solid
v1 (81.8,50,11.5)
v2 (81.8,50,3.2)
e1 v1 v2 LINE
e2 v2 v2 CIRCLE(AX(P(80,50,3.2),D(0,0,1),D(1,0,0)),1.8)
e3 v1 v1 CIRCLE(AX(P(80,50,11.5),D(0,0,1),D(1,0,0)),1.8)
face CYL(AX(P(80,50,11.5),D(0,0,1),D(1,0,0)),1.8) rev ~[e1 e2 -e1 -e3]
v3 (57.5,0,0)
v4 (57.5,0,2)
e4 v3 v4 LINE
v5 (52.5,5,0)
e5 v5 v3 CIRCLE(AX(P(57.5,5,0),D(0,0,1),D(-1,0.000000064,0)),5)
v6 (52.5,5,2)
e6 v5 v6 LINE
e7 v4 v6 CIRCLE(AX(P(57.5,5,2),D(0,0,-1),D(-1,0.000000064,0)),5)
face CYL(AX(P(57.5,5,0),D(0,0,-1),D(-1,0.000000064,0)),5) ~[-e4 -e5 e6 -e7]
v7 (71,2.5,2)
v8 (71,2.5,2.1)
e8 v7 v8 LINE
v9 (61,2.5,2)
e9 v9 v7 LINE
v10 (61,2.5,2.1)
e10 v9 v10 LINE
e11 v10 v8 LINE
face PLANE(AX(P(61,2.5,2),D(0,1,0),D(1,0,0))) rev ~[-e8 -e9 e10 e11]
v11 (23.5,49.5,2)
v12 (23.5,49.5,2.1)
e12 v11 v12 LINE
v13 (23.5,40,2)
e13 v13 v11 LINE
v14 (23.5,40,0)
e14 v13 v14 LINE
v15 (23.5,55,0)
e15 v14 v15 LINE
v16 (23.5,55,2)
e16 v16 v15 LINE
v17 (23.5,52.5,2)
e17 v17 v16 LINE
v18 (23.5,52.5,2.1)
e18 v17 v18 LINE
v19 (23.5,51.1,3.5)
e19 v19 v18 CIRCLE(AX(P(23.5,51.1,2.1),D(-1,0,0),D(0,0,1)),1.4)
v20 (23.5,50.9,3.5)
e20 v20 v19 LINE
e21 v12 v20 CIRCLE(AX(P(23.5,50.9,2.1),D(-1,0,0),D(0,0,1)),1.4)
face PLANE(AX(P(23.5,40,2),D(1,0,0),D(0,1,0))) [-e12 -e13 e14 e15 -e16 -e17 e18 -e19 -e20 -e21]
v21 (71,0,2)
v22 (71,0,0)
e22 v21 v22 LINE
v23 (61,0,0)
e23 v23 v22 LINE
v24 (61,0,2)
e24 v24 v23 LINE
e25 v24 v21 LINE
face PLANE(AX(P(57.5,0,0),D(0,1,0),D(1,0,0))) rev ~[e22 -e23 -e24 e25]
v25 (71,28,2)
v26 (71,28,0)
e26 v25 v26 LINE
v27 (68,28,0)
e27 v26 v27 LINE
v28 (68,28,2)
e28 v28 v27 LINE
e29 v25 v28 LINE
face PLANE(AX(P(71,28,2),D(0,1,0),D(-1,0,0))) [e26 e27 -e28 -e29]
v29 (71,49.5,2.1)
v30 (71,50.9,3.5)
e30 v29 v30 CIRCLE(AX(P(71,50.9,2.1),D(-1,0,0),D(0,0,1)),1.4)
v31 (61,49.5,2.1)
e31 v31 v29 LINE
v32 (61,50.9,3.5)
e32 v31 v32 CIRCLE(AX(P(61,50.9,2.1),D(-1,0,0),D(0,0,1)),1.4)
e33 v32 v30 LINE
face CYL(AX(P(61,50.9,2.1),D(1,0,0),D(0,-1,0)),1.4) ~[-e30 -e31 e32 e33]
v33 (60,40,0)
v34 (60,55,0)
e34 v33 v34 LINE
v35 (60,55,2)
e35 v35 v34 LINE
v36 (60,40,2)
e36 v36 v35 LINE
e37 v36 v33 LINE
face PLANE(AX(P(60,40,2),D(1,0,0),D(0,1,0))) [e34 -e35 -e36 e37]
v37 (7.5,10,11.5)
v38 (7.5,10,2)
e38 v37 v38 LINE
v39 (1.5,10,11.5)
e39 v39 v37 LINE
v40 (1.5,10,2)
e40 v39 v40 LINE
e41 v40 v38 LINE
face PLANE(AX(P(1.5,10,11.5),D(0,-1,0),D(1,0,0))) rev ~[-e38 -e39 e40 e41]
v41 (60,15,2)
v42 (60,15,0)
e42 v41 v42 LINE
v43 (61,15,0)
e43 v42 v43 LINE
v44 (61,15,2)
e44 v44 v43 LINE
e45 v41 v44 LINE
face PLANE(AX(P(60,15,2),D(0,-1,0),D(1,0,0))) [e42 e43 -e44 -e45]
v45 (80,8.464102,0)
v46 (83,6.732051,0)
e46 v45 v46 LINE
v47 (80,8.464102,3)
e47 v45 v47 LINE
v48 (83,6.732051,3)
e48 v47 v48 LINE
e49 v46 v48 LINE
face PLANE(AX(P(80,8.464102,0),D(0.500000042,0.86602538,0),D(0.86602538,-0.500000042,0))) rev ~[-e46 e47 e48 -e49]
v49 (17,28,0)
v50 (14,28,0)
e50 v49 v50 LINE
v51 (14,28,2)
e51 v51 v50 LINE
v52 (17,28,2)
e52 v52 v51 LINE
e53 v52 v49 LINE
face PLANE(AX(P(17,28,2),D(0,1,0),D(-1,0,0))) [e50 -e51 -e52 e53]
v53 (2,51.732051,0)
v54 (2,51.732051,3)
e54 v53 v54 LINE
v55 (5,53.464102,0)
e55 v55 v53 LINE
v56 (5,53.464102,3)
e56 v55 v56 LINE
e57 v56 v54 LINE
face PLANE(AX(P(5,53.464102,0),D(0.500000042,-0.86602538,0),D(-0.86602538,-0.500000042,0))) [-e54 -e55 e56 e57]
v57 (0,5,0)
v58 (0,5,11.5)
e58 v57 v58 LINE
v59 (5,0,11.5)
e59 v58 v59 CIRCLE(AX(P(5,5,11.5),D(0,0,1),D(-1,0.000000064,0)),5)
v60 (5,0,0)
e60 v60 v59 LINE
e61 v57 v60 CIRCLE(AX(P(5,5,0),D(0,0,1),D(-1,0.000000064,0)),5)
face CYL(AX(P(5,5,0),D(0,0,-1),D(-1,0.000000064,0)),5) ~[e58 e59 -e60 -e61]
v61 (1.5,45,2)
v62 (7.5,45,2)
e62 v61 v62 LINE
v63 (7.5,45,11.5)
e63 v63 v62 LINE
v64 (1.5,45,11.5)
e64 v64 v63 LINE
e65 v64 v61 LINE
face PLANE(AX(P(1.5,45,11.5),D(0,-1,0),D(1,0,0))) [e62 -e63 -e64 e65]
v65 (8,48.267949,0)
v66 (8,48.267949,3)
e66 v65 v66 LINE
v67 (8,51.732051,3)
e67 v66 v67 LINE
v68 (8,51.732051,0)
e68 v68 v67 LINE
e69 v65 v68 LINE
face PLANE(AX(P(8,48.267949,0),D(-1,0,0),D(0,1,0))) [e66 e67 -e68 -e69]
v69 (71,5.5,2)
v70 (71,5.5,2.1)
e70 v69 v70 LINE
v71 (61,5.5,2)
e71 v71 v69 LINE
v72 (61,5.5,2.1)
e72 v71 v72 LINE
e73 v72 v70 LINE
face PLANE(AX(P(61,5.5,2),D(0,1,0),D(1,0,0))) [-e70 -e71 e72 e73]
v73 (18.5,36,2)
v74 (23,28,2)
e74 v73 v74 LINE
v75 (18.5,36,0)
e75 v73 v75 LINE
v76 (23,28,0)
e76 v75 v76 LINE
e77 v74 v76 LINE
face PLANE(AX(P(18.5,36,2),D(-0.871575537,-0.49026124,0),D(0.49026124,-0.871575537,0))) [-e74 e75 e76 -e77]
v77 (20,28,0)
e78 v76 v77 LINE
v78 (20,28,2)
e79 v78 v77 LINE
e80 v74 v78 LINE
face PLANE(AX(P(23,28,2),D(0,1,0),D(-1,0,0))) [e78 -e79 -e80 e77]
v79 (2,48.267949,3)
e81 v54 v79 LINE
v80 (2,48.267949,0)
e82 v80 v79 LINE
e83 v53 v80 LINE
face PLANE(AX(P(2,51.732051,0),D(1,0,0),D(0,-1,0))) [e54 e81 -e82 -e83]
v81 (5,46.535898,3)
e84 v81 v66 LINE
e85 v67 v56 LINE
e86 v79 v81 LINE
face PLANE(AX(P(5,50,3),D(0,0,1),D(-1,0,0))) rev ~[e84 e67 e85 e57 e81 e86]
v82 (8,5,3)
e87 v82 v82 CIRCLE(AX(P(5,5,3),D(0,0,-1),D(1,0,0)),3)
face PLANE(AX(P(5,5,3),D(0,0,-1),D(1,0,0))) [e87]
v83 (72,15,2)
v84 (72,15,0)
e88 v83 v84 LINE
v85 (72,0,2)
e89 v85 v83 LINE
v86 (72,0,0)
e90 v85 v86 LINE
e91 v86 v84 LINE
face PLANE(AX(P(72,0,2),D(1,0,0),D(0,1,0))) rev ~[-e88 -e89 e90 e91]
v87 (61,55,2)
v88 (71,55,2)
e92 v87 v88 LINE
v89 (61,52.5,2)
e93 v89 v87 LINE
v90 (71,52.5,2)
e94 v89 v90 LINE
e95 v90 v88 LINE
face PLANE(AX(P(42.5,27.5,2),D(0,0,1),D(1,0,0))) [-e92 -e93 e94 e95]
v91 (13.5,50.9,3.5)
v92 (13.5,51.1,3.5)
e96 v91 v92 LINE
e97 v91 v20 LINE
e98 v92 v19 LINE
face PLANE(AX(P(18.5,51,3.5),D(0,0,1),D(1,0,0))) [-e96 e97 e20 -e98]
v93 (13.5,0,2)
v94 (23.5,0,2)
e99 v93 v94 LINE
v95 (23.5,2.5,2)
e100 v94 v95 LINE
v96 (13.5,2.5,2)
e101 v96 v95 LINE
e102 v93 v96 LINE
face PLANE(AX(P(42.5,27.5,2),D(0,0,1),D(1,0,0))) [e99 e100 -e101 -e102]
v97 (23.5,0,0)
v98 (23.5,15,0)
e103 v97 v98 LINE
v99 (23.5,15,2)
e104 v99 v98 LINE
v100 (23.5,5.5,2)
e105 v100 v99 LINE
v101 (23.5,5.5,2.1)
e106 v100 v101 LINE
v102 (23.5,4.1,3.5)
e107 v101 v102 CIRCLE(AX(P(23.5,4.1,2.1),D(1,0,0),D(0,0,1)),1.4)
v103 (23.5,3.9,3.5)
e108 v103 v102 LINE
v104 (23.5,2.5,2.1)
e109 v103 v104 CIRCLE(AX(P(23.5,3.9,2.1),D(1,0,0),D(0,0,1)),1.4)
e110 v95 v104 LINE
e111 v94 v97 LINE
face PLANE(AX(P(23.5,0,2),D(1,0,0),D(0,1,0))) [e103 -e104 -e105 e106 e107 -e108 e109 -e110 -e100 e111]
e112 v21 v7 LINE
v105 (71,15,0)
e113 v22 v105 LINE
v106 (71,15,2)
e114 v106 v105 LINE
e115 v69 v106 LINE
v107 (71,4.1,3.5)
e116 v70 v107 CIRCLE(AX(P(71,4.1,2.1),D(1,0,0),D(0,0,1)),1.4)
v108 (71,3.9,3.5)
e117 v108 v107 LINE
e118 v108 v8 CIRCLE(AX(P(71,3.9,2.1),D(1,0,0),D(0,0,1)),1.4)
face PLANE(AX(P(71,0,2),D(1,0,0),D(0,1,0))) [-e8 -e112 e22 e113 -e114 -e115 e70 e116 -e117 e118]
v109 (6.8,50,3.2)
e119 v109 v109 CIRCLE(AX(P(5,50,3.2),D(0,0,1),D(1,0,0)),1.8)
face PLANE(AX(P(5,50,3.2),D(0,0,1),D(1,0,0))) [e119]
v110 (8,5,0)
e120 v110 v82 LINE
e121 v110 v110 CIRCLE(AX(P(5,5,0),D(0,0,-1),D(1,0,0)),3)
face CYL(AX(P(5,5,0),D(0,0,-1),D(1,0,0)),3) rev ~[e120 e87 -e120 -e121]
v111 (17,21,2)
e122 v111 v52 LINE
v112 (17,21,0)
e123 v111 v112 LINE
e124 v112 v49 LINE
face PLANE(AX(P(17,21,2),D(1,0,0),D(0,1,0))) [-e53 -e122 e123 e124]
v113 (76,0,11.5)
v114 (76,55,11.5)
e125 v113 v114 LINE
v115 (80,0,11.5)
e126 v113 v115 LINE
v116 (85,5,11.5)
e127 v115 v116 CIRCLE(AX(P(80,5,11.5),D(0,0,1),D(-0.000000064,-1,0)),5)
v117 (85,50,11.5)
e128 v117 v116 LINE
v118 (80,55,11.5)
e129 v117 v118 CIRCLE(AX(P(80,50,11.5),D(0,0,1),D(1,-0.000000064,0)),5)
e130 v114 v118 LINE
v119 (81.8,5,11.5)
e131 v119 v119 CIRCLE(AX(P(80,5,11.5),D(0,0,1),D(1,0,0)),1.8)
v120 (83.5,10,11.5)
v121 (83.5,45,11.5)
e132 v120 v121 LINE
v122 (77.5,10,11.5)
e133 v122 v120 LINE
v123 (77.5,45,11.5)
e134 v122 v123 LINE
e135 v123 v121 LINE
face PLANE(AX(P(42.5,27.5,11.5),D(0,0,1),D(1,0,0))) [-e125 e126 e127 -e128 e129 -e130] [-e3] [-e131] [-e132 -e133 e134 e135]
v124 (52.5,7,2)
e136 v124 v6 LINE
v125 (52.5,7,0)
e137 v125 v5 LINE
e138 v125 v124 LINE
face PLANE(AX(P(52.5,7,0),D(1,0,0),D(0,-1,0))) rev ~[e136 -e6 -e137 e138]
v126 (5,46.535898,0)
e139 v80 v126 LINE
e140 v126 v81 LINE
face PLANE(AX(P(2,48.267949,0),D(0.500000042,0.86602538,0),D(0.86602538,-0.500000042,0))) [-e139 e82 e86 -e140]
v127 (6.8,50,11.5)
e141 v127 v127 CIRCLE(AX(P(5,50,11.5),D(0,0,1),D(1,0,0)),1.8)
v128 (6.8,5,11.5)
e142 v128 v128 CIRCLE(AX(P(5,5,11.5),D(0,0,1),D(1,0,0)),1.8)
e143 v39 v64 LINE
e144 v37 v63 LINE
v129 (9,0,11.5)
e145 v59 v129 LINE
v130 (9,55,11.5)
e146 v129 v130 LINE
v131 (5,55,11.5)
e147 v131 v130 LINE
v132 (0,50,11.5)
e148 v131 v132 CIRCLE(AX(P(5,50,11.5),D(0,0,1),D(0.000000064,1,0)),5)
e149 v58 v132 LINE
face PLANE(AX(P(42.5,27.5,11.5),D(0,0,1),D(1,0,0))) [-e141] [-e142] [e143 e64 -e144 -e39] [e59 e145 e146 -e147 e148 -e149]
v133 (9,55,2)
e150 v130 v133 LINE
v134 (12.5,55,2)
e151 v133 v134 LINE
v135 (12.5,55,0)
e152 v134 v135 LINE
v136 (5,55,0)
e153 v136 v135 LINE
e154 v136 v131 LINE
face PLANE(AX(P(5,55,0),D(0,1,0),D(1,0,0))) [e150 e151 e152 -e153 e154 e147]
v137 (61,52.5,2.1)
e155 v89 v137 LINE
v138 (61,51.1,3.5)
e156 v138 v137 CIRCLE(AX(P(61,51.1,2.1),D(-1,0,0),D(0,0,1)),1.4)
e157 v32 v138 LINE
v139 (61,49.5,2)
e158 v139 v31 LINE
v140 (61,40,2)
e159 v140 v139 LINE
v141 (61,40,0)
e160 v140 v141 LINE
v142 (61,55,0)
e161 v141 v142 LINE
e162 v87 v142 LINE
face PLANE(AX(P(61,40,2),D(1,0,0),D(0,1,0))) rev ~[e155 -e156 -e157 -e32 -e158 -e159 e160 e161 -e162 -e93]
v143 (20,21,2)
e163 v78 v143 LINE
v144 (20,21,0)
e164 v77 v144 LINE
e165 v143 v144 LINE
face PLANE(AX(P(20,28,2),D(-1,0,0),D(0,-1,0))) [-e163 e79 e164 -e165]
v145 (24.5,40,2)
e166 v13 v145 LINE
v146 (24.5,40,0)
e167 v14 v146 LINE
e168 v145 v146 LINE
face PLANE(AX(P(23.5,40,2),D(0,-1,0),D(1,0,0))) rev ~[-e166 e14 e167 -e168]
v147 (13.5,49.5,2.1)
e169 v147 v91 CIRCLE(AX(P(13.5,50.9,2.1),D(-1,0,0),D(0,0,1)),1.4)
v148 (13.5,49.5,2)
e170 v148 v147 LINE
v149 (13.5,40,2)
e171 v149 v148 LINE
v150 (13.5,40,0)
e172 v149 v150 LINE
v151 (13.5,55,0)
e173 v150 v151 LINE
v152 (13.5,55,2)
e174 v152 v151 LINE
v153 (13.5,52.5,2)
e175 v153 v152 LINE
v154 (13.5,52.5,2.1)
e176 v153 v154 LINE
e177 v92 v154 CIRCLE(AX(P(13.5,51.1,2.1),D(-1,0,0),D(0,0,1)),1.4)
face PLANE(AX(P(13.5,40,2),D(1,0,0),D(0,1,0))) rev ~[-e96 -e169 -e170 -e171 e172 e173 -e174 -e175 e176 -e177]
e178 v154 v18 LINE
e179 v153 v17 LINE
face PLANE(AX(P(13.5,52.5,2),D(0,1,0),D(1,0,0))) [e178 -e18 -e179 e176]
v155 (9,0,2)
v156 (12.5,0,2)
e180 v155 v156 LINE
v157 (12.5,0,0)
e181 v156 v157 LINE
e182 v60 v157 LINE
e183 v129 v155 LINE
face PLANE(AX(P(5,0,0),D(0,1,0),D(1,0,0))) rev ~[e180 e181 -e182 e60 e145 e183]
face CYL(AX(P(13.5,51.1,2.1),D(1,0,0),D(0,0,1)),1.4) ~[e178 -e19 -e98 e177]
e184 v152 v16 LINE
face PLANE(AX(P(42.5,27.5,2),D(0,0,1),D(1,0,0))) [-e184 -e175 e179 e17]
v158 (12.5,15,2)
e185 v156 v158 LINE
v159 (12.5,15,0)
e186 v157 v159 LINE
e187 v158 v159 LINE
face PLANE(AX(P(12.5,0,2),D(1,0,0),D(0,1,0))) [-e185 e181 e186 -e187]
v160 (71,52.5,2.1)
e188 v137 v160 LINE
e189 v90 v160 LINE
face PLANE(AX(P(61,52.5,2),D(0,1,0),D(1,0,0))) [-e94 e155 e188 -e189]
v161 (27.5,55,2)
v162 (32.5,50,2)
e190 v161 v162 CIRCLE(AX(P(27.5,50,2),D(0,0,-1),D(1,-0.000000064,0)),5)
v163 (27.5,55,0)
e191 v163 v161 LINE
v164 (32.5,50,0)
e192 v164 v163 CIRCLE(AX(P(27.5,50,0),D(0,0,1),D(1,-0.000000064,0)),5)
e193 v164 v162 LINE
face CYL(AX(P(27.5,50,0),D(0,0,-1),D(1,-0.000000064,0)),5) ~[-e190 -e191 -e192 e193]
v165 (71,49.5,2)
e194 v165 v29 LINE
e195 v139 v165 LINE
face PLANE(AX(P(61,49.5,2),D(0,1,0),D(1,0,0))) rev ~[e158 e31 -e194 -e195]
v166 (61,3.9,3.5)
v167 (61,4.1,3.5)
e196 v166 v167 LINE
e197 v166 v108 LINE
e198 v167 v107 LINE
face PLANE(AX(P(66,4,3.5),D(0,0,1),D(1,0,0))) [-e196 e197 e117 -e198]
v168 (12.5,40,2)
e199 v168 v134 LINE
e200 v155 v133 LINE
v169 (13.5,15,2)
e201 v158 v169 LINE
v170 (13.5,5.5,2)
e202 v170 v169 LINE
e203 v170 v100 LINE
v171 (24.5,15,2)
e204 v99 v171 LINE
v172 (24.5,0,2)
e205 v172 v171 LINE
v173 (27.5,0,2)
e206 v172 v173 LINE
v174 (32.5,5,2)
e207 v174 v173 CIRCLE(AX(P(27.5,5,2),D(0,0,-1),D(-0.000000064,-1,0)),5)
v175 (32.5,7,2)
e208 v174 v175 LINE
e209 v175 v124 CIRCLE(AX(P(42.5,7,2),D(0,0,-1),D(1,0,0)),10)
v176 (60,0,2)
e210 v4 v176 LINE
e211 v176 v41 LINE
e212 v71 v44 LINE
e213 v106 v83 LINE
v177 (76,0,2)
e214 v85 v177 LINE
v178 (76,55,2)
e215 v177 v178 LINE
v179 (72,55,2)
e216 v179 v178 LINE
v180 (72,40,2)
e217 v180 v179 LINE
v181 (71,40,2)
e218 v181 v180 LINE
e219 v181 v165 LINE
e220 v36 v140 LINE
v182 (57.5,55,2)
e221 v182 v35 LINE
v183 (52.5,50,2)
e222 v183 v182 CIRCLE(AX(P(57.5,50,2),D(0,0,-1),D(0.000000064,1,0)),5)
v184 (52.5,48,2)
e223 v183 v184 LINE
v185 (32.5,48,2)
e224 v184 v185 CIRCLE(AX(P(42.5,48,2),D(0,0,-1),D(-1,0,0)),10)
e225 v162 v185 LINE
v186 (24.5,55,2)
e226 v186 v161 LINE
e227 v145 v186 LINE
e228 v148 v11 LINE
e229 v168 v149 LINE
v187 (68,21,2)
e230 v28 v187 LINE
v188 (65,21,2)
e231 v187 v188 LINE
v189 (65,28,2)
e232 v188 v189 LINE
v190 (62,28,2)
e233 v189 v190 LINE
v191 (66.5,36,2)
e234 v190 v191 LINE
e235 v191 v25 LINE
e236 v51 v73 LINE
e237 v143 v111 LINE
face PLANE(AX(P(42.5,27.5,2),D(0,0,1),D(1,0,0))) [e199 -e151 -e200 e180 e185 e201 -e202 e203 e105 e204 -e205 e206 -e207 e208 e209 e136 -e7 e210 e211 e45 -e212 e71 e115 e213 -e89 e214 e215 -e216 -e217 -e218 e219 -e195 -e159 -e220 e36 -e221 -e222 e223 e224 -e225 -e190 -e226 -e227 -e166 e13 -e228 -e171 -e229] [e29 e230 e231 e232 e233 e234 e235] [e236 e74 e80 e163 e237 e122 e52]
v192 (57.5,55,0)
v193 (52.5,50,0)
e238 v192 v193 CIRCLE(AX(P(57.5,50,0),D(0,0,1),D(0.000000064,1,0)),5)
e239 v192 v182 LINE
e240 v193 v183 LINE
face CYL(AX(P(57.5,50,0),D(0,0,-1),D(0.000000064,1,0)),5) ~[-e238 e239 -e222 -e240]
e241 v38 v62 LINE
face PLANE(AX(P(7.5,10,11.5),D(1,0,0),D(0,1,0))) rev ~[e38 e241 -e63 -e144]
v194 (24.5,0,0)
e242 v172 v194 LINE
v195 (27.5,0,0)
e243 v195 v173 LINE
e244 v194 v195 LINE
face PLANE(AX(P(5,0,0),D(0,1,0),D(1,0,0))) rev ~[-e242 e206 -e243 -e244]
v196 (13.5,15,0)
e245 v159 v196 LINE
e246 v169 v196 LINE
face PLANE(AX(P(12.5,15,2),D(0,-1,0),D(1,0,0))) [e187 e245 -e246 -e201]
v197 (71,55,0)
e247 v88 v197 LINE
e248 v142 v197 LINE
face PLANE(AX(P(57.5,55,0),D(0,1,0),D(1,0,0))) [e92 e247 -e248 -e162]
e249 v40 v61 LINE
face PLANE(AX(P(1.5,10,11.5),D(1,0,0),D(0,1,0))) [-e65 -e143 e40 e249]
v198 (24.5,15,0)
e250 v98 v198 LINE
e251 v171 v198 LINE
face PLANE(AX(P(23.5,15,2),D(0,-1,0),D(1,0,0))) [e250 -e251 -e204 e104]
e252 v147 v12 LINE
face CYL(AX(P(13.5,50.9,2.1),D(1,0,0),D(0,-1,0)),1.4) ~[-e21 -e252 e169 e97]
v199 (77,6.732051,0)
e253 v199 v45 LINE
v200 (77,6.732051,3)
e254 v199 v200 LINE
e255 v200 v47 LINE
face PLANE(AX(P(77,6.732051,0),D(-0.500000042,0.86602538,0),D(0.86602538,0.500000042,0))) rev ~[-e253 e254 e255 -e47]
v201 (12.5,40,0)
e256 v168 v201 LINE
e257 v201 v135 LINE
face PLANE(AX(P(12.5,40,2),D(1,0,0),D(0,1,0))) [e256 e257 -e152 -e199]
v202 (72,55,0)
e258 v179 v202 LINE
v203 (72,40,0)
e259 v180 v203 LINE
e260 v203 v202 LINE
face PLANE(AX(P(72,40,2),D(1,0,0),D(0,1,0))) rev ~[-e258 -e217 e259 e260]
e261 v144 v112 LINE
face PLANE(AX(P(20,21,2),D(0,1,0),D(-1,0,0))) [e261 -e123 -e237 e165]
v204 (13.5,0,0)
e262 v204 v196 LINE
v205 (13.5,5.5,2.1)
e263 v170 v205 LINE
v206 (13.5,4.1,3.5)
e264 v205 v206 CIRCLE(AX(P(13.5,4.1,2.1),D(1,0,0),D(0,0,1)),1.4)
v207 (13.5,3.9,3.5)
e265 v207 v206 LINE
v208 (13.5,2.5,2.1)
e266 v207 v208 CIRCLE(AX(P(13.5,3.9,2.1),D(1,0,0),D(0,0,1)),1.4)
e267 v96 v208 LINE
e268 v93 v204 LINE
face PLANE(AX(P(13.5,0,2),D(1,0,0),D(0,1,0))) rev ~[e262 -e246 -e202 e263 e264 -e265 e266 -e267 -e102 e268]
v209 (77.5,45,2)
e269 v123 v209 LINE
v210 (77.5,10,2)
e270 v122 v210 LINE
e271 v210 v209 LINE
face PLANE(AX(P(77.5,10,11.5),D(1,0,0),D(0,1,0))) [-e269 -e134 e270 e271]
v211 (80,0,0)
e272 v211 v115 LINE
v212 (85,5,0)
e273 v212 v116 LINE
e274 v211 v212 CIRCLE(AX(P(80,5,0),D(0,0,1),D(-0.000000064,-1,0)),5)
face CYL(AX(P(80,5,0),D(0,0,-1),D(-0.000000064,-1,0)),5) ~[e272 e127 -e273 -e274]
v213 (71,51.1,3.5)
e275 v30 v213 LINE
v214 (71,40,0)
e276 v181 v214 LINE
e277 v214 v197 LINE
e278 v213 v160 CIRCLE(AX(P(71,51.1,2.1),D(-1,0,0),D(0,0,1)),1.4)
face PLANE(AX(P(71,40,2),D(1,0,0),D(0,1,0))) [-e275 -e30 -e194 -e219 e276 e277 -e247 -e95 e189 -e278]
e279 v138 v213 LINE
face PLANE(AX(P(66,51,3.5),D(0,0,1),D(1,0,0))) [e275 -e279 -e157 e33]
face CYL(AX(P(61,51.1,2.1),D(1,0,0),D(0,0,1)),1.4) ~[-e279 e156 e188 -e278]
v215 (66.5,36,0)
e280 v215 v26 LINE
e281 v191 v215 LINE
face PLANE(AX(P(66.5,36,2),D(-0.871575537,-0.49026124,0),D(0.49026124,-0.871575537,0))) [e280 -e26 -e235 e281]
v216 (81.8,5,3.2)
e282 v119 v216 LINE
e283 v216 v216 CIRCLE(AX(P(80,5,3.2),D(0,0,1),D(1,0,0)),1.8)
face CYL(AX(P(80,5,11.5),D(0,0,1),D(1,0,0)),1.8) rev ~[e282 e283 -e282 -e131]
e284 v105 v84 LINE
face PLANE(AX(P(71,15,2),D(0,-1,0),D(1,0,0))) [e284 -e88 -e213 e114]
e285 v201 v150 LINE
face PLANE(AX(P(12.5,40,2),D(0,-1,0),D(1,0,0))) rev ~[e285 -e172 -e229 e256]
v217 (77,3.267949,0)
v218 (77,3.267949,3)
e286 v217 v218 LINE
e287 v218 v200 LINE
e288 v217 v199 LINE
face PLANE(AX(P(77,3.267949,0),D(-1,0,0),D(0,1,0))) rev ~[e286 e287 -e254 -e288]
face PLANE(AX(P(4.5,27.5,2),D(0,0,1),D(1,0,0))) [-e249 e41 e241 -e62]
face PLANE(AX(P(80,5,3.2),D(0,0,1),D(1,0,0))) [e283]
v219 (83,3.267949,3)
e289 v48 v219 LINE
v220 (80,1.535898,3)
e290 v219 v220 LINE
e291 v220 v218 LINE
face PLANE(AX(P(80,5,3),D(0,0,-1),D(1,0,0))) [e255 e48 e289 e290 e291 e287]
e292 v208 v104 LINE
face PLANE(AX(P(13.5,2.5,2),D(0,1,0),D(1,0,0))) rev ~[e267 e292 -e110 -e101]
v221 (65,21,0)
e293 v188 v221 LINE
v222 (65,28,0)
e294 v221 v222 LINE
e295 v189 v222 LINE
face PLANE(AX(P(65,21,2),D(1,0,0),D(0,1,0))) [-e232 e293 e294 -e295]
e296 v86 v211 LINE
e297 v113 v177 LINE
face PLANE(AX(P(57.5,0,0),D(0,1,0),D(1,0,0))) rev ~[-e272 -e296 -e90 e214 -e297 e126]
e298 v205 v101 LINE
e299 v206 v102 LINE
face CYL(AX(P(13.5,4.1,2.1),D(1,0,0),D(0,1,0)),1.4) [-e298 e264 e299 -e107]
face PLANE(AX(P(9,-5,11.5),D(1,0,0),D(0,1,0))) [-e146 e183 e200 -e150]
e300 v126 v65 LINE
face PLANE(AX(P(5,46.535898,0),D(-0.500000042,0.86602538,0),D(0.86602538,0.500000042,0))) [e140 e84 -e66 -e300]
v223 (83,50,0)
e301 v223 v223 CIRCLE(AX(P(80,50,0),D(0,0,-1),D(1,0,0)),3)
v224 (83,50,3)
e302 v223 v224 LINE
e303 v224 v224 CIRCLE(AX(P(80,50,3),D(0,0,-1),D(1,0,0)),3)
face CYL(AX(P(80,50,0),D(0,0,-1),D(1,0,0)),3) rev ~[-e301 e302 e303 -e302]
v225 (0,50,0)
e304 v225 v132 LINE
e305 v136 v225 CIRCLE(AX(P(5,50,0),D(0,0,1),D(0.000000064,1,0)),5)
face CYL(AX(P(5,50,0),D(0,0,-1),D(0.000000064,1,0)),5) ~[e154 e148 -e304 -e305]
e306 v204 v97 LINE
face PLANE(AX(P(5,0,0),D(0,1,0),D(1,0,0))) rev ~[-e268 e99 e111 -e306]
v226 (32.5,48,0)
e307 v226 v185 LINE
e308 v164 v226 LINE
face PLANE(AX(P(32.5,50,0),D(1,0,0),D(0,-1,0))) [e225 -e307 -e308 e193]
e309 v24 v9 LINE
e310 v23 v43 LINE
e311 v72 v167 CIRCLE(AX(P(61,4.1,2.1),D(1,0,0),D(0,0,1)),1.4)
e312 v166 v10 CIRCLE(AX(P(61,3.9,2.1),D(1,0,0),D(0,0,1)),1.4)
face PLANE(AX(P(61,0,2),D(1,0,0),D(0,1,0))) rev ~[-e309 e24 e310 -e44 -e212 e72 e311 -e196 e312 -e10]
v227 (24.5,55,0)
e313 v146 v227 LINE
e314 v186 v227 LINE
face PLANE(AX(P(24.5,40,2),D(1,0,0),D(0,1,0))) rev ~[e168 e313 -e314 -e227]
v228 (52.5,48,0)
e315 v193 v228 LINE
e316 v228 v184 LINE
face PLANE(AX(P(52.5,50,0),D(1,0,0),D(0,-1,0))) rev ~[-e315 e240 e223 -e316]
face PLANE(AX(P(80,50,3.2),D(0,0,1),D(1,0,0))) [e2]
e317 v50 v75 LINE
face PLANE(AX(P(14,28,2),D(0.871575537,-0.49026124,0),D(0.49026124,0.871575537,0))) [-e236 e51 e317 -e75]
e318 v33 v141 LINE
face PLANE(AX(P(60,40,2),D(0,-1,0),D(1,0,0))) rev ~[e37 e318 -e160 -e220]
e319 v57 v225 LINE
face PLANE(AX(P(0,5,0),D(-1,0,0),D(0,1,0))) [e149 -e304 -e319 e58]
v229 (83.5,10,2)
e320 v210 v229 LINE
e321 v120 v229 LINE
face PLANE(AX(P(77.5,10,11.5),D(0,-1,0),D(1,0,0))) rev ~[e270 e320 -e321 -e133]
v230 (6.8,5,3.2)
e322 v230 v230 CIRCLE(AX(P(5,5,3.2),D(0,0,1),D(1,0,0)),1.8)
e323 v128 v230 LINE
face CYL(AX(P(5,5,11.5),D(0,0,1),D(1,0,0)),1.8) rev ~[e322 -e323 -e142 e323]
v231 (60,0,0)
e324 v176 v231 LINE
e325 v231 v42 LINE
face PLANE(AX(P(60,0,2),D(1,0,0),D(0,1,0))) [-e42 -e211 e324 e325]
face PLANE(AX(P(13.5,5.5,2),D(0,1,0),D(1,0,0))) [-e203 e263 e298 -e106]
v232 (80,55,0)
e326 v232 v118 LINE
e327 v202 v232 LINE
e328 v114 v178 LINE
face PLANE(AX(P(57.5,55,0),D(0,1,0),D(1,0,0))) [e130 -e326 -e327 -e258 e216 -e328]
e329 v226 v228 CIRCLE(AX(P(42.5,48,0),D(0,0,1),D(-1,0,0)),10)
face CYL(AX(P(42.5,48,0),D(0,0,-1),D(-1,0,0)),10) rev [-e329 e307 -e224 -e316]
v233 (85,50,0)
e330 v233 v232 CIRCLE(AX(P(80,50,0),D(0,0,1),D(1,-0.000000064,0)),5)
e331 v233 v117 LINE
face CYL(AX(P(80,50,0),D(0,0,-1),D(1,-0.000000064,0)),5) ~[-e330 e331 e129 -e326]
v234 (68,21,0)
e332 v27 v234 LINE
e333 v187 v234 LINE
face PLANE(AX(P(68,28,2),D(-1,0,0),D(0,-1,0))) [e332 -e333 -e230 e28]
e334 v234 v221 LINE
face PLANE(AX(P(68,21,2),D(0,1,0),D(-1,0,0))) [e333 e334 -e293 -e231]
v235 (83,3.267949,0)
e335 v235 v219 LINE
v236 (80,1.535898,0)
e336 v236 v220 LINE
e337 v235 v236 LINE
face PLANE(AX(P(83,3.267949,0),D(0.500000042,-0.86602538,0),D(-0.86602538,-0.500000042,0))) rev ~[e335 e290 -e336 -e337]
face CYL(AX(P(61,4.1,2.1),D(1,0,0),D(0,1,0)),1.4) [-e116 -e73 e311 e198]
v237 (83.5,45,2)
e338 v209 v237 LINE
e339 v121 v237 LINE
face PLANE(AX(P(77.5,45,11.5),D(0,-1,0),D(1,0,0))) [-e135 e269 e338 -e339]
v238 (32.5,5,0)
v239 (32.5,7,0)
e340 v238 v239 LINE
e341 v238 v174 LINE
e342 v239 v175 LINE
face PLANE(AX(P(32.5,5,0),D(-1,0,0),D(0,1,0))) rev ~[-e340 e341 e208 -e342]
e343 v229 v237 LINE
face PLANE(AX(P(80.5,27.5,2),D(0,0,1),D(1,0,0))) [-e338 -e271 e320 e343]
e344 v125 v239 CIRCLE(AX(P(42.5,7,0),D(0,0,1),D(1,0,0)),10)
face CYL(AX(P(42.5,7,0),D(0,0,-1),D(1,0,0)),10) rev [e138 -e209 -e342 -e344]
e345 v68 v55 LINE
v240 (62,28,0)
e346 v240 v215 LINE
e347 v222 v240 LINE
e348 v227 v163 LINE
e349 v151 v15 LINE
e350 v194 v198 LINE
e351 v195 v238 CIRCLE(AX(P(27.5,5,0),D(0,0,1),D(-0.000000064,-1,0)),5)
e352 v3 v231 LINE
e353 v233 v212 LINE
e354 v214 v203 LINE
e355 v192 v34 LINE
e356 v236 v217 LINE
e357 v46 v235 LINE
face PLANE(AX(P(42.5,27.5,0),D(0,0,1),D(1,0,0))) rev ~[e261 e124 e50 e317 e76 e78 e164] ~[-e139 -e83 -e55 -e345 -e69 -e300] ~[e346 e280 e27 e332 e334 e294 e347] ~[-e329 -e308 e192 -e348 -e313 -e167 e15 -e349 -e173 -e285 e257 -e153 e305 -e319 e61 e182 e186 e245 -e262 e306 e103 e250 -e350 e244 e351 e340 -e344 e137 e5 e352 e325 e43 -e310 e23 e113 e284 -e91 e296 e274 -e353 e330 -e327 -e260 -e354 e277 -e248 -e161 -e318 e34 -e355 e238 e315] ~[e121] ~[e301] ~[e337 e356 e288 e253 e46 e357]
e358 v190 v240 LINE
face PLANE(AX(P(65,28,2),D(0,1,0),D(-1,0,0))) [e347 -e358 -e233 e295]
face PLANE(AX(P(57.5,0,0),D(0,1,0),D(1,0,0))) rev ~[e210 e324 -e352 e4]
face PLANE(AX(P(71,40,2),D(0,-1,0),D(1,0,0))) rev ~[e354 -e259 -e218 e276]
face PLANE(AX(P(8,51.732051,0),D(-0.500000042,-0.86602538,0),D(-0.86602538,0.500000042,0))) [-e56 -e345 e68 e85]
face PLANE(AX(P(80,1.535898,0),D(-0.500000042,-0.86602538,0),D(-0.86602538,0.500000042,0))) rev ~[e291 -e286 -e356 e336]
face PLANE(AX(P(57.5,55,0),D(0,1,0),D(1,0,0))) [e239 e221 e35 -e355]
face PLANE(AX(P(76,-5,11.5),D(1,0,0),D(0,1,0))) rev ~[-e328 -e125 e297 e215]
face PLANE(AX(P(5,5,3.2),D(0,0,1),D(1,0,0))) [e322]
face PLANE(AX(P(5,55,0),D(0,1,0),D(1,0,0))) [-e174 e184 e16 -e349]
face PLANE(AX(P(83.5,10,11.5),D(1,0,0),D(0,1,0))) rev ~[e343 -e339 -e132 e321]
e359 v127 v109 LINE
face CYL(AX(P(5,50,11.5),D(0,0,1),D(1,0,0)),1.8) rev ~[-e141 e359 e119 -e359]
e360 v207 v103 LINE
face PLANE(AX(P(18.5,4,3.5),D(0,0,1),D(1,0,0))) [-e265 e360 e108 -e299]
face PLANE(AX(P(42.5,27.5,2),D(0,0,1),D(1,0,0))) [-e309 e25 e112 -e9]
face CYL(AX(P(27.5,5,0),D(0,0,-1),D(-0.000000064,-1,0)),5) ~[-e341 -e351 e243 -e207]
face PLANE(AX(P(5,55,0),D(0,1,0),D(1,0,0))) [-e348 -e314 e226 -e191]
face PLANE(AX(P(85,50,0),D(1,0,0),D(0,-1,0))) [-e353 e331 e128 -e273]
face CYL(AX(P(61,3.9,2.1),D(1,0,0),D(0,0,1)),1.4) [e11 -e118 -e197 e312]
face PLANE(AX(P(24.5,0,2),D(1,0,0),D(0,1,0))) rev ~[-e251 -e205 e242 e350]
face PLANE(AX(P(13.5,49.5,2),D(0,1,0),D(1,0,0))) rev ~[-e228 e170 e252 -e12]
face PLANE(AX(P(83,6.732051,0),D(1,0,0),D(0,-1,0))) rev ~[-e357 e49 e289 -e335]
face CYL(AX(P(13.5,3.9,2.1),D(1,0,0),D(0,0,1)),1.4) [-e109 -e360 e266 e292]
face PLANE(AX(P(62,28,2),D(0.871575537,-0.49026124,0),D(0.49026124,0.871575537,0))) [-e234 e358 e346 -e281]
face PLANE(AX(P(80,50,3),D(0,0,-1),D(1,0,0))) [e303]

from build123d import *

# Parameters (mm, degrees)
PAD_DEPTH       = 11.5
SKETCH001_W     = 67
SKETCH001_H     = 65
POCKET_DEPTH    = 9.5
SKETCH002_R     = 3
POCKET001_DEPTH = 3
SKETCH003_W     = 6
SKETCH003_H     = 35
POCKET002_DEPTH = 9.5
SKETCH004_R     = 1.8
POCKET003_DEPTH = 8.3
SKETCH006_W     = 1
SKETCH006_H     = 15
POCKET004_DEPTH = 5
SKETCH007_W     = 1
SKETCH007_H     = 15
POCKET005_DEPTH = 5
SKETCH008_W     = 10
SKETCH008_H     = 3
PAD001_DEPTH    = 1.5
FILLET_R        = 1.4
POCKET006_DEPTH = 5


with BuildPart() as part:
    # Sketch → Pad (new body)
    with BuildSketch(Plane.XY):
        with BuildLine():
            ThreePointArc((0, 5), (1.464466, 1.464466), (5, 0))
            Line((5, 0), (27.5, 0))
            ThreePointArc((27.5, 0), (31.035534, 1.464466), (32.5, 5))
            Line((32.5, 5), (32.5, 7))
            ThreePointArc((52.5, 7), (42.5, 17), (32.5, 7))
            Line((52.5, 7), (52.5, 5))
            ThreePointArc((52.5, 5), (53.964466, 1.464466), (57.5, 0))
            Line((57.5, 0), (80, 0))
            ThreePointArc((80, 0), (83.535534, 1.464466), (85, 5))
            Line((85, 50), (85, 5))
            ThreePointArc((85, 50), (83.535534, 53.535534), (80, 55))
            Line((57.5, 55), (80, 55))
            ThreePointArc((57.5, 55), (53.964466, 53.535534), (52.5, 50))
            Line((52.5, 50), (52.5, 48))
            ThreePointArc((32.5, 48), (42.5, 38), (52.5, 48))
            Line((32.5, 50), (32.5, 48))
            ThreePointArc((32.5, 50), (31.035534, 53.535534), (27.5, 55))
            Line((5, 55), (27.5, 55))
            ThreePointArc((5, 55), (1.464466, 53.535534), (0, 50))
            Line((0, 5), (0, 50))
        make_face()
    extrude(amount=PAD_DEPTH)

    # Sketch001 → Pocket (cut)
    with BuildSketch(Plane.XY.offset(11.5)):
        with Locations((42.5, 27.5)):
            Rectangle(SKETCH001_W, SKETCH001_H)
    extrude(amount=-POCKET_DEPTH, mode=Mode.SUBTRACT)

    # Sketch002 → Pocket001 (cut)
    with BuildSketch(Plane(origin=(0, 0, 0), x_dir=(1, 0, 0), z_dir=(0, 0, -1))):
        with Locations((80, -50)):
            Circle(SKETCH002_R)
        with Locations((5, -5)):
            Circle(SKETCH002_R)
        Polygon((2, -51.732051), (2, -48.267949), (5, -46.535898), (8, -48.267949), (8, -51.732051), (5, -53.464102), align=None)
        Polygon((77, -3.267949), (77, -6.732051), (80, -8.464102), (83, -6.732051), (83, -3.267949), (80, -1.535898), align=None)
    extrude(amount=-POCKET001_DEPTH, mode=Mode.SUBTRACT)

    # Sketch003 → Pocket002 (cut)
    with BuildSketch(Plane.XY.offset(11.5)):
        with Locations((4.5, 27.5)):
            Rectangle(SKETCH003_W, SKETCH003_H)
        with Locations((80.5, 27.5)):
            Rectangle(SKETCH003_W, SKETCH003_H)
    extrude(amount=-POCKET002_DEPTH, mode=Mode.SUBTRACT)

    # Sketch004 → Pocket003 (cut)
    with BuildSketch(Plane.XY.offset(11.5)):
        with Locations((5, 50)):
            Circle(SKETCH004_R)
        with Locations((80, 50)):
            Circle(SKETCH004_R)
        with Locations((80, 5)):
            Circle(SKETCH004_R)
        with Locations((5, 5)):
            Circle(SKETCH004_R)
    extrude(amount=-POCKET003_DEPTH, mode=Mode.SUBTRACT)

    # Sketch006 → Pocket004 (cut)
    with BuildSketch(Plane.XY.offset(2)):
        with Locations((71.5, 47.5)):
            Rectangle(SKETCH006_W, SKETCH006_H)
        with Locations((60.5, 47.5)):
            Rectangle(SKETCH006_W, SKETCH006_H)
        with Locations((24, 47.5)):
            Rectangle(SKETCH006_W, SKETCH006_H)
        with Locations((13, 47.5)):
            Rectangle(SKETCH006_W, SKETCH006_H)
    extrude(amount=-POCKET004_DEPTH, mode=Mode.SUBTRACT)

    # Sketch007 → Pocket005 (cut)
    with BuildSketch(Plane.XY.offset(2)):
        with Locations((71.5, 7.5)):
            Rectangle(SKETCH007_W, SKETCH007_H)
        with Locations((60.5, 7.5)):
            Rectangle(SKETCH007_W, SKETCH007_H)
        with Locations((24, 7.5)):
            Rectangle(SKETCH007_W, SKETCH007_H)
        with Locations((13, 7.5)):
            Rectangle(SKETCH007_W, SKETCH007_H)
    extrude(amount=-POCKET005_DEPTH, mode=Mode.SUBTRACT)

    # Sketch008 → Pad001 (new body)
    with BuildSketch(Plane.XY.offset(2)):
        with Locations((18.5, 4)):
            Rectangle(SKETCH008_W, SKETCH008_H)
        with Locations((66, 4)):
            Rectangle(SKETCH008_W, SKETCH008_H)
        with Locations((18.5, 51)):
            Rectangle(SKETCH008_W, SKETCH008_H)
        with Locations((66, 51)):
            Rectangle(SKETCH008_W, SKETCH008_H)
    extrude(amount=PAD001_DEPTH)

    # Fillet
    fillet_edges = [part.edges().sort_by_distance(p)[0] for p in [
        (18.5, 49.5, 3.5),
        (18.5, 52.5, 3.5),
        (66, 52.5, 3.5),
        (66, 49.5, 3.5),
        (66, 5.5, 3.5),
        (66, 2.5, 3.5),
        (18.5, 2.5, 3.5),
        (18.5, 5.5, 3.5),
    ]]
    fillet(fillet_edges, radius=FILLET_R)

    # Sketch005 → Pocket006 (cut)
    with BuildSketch(Plane.XY.offset(2)):
        Polygon((17, 28), (14, 28), (18.5, 36), (23, 28), (20, 28), (20, 21), (17, 21), align=None)
        Polygon((65, 28), (62, 28), (66.5, 36), (71, 28), (68, 28), (68, 21), (65, 21), align=None)
    extrude(amount=-POCKET006_DEPTH, mode=Mode.SUBTRACT)


solid = part.part
